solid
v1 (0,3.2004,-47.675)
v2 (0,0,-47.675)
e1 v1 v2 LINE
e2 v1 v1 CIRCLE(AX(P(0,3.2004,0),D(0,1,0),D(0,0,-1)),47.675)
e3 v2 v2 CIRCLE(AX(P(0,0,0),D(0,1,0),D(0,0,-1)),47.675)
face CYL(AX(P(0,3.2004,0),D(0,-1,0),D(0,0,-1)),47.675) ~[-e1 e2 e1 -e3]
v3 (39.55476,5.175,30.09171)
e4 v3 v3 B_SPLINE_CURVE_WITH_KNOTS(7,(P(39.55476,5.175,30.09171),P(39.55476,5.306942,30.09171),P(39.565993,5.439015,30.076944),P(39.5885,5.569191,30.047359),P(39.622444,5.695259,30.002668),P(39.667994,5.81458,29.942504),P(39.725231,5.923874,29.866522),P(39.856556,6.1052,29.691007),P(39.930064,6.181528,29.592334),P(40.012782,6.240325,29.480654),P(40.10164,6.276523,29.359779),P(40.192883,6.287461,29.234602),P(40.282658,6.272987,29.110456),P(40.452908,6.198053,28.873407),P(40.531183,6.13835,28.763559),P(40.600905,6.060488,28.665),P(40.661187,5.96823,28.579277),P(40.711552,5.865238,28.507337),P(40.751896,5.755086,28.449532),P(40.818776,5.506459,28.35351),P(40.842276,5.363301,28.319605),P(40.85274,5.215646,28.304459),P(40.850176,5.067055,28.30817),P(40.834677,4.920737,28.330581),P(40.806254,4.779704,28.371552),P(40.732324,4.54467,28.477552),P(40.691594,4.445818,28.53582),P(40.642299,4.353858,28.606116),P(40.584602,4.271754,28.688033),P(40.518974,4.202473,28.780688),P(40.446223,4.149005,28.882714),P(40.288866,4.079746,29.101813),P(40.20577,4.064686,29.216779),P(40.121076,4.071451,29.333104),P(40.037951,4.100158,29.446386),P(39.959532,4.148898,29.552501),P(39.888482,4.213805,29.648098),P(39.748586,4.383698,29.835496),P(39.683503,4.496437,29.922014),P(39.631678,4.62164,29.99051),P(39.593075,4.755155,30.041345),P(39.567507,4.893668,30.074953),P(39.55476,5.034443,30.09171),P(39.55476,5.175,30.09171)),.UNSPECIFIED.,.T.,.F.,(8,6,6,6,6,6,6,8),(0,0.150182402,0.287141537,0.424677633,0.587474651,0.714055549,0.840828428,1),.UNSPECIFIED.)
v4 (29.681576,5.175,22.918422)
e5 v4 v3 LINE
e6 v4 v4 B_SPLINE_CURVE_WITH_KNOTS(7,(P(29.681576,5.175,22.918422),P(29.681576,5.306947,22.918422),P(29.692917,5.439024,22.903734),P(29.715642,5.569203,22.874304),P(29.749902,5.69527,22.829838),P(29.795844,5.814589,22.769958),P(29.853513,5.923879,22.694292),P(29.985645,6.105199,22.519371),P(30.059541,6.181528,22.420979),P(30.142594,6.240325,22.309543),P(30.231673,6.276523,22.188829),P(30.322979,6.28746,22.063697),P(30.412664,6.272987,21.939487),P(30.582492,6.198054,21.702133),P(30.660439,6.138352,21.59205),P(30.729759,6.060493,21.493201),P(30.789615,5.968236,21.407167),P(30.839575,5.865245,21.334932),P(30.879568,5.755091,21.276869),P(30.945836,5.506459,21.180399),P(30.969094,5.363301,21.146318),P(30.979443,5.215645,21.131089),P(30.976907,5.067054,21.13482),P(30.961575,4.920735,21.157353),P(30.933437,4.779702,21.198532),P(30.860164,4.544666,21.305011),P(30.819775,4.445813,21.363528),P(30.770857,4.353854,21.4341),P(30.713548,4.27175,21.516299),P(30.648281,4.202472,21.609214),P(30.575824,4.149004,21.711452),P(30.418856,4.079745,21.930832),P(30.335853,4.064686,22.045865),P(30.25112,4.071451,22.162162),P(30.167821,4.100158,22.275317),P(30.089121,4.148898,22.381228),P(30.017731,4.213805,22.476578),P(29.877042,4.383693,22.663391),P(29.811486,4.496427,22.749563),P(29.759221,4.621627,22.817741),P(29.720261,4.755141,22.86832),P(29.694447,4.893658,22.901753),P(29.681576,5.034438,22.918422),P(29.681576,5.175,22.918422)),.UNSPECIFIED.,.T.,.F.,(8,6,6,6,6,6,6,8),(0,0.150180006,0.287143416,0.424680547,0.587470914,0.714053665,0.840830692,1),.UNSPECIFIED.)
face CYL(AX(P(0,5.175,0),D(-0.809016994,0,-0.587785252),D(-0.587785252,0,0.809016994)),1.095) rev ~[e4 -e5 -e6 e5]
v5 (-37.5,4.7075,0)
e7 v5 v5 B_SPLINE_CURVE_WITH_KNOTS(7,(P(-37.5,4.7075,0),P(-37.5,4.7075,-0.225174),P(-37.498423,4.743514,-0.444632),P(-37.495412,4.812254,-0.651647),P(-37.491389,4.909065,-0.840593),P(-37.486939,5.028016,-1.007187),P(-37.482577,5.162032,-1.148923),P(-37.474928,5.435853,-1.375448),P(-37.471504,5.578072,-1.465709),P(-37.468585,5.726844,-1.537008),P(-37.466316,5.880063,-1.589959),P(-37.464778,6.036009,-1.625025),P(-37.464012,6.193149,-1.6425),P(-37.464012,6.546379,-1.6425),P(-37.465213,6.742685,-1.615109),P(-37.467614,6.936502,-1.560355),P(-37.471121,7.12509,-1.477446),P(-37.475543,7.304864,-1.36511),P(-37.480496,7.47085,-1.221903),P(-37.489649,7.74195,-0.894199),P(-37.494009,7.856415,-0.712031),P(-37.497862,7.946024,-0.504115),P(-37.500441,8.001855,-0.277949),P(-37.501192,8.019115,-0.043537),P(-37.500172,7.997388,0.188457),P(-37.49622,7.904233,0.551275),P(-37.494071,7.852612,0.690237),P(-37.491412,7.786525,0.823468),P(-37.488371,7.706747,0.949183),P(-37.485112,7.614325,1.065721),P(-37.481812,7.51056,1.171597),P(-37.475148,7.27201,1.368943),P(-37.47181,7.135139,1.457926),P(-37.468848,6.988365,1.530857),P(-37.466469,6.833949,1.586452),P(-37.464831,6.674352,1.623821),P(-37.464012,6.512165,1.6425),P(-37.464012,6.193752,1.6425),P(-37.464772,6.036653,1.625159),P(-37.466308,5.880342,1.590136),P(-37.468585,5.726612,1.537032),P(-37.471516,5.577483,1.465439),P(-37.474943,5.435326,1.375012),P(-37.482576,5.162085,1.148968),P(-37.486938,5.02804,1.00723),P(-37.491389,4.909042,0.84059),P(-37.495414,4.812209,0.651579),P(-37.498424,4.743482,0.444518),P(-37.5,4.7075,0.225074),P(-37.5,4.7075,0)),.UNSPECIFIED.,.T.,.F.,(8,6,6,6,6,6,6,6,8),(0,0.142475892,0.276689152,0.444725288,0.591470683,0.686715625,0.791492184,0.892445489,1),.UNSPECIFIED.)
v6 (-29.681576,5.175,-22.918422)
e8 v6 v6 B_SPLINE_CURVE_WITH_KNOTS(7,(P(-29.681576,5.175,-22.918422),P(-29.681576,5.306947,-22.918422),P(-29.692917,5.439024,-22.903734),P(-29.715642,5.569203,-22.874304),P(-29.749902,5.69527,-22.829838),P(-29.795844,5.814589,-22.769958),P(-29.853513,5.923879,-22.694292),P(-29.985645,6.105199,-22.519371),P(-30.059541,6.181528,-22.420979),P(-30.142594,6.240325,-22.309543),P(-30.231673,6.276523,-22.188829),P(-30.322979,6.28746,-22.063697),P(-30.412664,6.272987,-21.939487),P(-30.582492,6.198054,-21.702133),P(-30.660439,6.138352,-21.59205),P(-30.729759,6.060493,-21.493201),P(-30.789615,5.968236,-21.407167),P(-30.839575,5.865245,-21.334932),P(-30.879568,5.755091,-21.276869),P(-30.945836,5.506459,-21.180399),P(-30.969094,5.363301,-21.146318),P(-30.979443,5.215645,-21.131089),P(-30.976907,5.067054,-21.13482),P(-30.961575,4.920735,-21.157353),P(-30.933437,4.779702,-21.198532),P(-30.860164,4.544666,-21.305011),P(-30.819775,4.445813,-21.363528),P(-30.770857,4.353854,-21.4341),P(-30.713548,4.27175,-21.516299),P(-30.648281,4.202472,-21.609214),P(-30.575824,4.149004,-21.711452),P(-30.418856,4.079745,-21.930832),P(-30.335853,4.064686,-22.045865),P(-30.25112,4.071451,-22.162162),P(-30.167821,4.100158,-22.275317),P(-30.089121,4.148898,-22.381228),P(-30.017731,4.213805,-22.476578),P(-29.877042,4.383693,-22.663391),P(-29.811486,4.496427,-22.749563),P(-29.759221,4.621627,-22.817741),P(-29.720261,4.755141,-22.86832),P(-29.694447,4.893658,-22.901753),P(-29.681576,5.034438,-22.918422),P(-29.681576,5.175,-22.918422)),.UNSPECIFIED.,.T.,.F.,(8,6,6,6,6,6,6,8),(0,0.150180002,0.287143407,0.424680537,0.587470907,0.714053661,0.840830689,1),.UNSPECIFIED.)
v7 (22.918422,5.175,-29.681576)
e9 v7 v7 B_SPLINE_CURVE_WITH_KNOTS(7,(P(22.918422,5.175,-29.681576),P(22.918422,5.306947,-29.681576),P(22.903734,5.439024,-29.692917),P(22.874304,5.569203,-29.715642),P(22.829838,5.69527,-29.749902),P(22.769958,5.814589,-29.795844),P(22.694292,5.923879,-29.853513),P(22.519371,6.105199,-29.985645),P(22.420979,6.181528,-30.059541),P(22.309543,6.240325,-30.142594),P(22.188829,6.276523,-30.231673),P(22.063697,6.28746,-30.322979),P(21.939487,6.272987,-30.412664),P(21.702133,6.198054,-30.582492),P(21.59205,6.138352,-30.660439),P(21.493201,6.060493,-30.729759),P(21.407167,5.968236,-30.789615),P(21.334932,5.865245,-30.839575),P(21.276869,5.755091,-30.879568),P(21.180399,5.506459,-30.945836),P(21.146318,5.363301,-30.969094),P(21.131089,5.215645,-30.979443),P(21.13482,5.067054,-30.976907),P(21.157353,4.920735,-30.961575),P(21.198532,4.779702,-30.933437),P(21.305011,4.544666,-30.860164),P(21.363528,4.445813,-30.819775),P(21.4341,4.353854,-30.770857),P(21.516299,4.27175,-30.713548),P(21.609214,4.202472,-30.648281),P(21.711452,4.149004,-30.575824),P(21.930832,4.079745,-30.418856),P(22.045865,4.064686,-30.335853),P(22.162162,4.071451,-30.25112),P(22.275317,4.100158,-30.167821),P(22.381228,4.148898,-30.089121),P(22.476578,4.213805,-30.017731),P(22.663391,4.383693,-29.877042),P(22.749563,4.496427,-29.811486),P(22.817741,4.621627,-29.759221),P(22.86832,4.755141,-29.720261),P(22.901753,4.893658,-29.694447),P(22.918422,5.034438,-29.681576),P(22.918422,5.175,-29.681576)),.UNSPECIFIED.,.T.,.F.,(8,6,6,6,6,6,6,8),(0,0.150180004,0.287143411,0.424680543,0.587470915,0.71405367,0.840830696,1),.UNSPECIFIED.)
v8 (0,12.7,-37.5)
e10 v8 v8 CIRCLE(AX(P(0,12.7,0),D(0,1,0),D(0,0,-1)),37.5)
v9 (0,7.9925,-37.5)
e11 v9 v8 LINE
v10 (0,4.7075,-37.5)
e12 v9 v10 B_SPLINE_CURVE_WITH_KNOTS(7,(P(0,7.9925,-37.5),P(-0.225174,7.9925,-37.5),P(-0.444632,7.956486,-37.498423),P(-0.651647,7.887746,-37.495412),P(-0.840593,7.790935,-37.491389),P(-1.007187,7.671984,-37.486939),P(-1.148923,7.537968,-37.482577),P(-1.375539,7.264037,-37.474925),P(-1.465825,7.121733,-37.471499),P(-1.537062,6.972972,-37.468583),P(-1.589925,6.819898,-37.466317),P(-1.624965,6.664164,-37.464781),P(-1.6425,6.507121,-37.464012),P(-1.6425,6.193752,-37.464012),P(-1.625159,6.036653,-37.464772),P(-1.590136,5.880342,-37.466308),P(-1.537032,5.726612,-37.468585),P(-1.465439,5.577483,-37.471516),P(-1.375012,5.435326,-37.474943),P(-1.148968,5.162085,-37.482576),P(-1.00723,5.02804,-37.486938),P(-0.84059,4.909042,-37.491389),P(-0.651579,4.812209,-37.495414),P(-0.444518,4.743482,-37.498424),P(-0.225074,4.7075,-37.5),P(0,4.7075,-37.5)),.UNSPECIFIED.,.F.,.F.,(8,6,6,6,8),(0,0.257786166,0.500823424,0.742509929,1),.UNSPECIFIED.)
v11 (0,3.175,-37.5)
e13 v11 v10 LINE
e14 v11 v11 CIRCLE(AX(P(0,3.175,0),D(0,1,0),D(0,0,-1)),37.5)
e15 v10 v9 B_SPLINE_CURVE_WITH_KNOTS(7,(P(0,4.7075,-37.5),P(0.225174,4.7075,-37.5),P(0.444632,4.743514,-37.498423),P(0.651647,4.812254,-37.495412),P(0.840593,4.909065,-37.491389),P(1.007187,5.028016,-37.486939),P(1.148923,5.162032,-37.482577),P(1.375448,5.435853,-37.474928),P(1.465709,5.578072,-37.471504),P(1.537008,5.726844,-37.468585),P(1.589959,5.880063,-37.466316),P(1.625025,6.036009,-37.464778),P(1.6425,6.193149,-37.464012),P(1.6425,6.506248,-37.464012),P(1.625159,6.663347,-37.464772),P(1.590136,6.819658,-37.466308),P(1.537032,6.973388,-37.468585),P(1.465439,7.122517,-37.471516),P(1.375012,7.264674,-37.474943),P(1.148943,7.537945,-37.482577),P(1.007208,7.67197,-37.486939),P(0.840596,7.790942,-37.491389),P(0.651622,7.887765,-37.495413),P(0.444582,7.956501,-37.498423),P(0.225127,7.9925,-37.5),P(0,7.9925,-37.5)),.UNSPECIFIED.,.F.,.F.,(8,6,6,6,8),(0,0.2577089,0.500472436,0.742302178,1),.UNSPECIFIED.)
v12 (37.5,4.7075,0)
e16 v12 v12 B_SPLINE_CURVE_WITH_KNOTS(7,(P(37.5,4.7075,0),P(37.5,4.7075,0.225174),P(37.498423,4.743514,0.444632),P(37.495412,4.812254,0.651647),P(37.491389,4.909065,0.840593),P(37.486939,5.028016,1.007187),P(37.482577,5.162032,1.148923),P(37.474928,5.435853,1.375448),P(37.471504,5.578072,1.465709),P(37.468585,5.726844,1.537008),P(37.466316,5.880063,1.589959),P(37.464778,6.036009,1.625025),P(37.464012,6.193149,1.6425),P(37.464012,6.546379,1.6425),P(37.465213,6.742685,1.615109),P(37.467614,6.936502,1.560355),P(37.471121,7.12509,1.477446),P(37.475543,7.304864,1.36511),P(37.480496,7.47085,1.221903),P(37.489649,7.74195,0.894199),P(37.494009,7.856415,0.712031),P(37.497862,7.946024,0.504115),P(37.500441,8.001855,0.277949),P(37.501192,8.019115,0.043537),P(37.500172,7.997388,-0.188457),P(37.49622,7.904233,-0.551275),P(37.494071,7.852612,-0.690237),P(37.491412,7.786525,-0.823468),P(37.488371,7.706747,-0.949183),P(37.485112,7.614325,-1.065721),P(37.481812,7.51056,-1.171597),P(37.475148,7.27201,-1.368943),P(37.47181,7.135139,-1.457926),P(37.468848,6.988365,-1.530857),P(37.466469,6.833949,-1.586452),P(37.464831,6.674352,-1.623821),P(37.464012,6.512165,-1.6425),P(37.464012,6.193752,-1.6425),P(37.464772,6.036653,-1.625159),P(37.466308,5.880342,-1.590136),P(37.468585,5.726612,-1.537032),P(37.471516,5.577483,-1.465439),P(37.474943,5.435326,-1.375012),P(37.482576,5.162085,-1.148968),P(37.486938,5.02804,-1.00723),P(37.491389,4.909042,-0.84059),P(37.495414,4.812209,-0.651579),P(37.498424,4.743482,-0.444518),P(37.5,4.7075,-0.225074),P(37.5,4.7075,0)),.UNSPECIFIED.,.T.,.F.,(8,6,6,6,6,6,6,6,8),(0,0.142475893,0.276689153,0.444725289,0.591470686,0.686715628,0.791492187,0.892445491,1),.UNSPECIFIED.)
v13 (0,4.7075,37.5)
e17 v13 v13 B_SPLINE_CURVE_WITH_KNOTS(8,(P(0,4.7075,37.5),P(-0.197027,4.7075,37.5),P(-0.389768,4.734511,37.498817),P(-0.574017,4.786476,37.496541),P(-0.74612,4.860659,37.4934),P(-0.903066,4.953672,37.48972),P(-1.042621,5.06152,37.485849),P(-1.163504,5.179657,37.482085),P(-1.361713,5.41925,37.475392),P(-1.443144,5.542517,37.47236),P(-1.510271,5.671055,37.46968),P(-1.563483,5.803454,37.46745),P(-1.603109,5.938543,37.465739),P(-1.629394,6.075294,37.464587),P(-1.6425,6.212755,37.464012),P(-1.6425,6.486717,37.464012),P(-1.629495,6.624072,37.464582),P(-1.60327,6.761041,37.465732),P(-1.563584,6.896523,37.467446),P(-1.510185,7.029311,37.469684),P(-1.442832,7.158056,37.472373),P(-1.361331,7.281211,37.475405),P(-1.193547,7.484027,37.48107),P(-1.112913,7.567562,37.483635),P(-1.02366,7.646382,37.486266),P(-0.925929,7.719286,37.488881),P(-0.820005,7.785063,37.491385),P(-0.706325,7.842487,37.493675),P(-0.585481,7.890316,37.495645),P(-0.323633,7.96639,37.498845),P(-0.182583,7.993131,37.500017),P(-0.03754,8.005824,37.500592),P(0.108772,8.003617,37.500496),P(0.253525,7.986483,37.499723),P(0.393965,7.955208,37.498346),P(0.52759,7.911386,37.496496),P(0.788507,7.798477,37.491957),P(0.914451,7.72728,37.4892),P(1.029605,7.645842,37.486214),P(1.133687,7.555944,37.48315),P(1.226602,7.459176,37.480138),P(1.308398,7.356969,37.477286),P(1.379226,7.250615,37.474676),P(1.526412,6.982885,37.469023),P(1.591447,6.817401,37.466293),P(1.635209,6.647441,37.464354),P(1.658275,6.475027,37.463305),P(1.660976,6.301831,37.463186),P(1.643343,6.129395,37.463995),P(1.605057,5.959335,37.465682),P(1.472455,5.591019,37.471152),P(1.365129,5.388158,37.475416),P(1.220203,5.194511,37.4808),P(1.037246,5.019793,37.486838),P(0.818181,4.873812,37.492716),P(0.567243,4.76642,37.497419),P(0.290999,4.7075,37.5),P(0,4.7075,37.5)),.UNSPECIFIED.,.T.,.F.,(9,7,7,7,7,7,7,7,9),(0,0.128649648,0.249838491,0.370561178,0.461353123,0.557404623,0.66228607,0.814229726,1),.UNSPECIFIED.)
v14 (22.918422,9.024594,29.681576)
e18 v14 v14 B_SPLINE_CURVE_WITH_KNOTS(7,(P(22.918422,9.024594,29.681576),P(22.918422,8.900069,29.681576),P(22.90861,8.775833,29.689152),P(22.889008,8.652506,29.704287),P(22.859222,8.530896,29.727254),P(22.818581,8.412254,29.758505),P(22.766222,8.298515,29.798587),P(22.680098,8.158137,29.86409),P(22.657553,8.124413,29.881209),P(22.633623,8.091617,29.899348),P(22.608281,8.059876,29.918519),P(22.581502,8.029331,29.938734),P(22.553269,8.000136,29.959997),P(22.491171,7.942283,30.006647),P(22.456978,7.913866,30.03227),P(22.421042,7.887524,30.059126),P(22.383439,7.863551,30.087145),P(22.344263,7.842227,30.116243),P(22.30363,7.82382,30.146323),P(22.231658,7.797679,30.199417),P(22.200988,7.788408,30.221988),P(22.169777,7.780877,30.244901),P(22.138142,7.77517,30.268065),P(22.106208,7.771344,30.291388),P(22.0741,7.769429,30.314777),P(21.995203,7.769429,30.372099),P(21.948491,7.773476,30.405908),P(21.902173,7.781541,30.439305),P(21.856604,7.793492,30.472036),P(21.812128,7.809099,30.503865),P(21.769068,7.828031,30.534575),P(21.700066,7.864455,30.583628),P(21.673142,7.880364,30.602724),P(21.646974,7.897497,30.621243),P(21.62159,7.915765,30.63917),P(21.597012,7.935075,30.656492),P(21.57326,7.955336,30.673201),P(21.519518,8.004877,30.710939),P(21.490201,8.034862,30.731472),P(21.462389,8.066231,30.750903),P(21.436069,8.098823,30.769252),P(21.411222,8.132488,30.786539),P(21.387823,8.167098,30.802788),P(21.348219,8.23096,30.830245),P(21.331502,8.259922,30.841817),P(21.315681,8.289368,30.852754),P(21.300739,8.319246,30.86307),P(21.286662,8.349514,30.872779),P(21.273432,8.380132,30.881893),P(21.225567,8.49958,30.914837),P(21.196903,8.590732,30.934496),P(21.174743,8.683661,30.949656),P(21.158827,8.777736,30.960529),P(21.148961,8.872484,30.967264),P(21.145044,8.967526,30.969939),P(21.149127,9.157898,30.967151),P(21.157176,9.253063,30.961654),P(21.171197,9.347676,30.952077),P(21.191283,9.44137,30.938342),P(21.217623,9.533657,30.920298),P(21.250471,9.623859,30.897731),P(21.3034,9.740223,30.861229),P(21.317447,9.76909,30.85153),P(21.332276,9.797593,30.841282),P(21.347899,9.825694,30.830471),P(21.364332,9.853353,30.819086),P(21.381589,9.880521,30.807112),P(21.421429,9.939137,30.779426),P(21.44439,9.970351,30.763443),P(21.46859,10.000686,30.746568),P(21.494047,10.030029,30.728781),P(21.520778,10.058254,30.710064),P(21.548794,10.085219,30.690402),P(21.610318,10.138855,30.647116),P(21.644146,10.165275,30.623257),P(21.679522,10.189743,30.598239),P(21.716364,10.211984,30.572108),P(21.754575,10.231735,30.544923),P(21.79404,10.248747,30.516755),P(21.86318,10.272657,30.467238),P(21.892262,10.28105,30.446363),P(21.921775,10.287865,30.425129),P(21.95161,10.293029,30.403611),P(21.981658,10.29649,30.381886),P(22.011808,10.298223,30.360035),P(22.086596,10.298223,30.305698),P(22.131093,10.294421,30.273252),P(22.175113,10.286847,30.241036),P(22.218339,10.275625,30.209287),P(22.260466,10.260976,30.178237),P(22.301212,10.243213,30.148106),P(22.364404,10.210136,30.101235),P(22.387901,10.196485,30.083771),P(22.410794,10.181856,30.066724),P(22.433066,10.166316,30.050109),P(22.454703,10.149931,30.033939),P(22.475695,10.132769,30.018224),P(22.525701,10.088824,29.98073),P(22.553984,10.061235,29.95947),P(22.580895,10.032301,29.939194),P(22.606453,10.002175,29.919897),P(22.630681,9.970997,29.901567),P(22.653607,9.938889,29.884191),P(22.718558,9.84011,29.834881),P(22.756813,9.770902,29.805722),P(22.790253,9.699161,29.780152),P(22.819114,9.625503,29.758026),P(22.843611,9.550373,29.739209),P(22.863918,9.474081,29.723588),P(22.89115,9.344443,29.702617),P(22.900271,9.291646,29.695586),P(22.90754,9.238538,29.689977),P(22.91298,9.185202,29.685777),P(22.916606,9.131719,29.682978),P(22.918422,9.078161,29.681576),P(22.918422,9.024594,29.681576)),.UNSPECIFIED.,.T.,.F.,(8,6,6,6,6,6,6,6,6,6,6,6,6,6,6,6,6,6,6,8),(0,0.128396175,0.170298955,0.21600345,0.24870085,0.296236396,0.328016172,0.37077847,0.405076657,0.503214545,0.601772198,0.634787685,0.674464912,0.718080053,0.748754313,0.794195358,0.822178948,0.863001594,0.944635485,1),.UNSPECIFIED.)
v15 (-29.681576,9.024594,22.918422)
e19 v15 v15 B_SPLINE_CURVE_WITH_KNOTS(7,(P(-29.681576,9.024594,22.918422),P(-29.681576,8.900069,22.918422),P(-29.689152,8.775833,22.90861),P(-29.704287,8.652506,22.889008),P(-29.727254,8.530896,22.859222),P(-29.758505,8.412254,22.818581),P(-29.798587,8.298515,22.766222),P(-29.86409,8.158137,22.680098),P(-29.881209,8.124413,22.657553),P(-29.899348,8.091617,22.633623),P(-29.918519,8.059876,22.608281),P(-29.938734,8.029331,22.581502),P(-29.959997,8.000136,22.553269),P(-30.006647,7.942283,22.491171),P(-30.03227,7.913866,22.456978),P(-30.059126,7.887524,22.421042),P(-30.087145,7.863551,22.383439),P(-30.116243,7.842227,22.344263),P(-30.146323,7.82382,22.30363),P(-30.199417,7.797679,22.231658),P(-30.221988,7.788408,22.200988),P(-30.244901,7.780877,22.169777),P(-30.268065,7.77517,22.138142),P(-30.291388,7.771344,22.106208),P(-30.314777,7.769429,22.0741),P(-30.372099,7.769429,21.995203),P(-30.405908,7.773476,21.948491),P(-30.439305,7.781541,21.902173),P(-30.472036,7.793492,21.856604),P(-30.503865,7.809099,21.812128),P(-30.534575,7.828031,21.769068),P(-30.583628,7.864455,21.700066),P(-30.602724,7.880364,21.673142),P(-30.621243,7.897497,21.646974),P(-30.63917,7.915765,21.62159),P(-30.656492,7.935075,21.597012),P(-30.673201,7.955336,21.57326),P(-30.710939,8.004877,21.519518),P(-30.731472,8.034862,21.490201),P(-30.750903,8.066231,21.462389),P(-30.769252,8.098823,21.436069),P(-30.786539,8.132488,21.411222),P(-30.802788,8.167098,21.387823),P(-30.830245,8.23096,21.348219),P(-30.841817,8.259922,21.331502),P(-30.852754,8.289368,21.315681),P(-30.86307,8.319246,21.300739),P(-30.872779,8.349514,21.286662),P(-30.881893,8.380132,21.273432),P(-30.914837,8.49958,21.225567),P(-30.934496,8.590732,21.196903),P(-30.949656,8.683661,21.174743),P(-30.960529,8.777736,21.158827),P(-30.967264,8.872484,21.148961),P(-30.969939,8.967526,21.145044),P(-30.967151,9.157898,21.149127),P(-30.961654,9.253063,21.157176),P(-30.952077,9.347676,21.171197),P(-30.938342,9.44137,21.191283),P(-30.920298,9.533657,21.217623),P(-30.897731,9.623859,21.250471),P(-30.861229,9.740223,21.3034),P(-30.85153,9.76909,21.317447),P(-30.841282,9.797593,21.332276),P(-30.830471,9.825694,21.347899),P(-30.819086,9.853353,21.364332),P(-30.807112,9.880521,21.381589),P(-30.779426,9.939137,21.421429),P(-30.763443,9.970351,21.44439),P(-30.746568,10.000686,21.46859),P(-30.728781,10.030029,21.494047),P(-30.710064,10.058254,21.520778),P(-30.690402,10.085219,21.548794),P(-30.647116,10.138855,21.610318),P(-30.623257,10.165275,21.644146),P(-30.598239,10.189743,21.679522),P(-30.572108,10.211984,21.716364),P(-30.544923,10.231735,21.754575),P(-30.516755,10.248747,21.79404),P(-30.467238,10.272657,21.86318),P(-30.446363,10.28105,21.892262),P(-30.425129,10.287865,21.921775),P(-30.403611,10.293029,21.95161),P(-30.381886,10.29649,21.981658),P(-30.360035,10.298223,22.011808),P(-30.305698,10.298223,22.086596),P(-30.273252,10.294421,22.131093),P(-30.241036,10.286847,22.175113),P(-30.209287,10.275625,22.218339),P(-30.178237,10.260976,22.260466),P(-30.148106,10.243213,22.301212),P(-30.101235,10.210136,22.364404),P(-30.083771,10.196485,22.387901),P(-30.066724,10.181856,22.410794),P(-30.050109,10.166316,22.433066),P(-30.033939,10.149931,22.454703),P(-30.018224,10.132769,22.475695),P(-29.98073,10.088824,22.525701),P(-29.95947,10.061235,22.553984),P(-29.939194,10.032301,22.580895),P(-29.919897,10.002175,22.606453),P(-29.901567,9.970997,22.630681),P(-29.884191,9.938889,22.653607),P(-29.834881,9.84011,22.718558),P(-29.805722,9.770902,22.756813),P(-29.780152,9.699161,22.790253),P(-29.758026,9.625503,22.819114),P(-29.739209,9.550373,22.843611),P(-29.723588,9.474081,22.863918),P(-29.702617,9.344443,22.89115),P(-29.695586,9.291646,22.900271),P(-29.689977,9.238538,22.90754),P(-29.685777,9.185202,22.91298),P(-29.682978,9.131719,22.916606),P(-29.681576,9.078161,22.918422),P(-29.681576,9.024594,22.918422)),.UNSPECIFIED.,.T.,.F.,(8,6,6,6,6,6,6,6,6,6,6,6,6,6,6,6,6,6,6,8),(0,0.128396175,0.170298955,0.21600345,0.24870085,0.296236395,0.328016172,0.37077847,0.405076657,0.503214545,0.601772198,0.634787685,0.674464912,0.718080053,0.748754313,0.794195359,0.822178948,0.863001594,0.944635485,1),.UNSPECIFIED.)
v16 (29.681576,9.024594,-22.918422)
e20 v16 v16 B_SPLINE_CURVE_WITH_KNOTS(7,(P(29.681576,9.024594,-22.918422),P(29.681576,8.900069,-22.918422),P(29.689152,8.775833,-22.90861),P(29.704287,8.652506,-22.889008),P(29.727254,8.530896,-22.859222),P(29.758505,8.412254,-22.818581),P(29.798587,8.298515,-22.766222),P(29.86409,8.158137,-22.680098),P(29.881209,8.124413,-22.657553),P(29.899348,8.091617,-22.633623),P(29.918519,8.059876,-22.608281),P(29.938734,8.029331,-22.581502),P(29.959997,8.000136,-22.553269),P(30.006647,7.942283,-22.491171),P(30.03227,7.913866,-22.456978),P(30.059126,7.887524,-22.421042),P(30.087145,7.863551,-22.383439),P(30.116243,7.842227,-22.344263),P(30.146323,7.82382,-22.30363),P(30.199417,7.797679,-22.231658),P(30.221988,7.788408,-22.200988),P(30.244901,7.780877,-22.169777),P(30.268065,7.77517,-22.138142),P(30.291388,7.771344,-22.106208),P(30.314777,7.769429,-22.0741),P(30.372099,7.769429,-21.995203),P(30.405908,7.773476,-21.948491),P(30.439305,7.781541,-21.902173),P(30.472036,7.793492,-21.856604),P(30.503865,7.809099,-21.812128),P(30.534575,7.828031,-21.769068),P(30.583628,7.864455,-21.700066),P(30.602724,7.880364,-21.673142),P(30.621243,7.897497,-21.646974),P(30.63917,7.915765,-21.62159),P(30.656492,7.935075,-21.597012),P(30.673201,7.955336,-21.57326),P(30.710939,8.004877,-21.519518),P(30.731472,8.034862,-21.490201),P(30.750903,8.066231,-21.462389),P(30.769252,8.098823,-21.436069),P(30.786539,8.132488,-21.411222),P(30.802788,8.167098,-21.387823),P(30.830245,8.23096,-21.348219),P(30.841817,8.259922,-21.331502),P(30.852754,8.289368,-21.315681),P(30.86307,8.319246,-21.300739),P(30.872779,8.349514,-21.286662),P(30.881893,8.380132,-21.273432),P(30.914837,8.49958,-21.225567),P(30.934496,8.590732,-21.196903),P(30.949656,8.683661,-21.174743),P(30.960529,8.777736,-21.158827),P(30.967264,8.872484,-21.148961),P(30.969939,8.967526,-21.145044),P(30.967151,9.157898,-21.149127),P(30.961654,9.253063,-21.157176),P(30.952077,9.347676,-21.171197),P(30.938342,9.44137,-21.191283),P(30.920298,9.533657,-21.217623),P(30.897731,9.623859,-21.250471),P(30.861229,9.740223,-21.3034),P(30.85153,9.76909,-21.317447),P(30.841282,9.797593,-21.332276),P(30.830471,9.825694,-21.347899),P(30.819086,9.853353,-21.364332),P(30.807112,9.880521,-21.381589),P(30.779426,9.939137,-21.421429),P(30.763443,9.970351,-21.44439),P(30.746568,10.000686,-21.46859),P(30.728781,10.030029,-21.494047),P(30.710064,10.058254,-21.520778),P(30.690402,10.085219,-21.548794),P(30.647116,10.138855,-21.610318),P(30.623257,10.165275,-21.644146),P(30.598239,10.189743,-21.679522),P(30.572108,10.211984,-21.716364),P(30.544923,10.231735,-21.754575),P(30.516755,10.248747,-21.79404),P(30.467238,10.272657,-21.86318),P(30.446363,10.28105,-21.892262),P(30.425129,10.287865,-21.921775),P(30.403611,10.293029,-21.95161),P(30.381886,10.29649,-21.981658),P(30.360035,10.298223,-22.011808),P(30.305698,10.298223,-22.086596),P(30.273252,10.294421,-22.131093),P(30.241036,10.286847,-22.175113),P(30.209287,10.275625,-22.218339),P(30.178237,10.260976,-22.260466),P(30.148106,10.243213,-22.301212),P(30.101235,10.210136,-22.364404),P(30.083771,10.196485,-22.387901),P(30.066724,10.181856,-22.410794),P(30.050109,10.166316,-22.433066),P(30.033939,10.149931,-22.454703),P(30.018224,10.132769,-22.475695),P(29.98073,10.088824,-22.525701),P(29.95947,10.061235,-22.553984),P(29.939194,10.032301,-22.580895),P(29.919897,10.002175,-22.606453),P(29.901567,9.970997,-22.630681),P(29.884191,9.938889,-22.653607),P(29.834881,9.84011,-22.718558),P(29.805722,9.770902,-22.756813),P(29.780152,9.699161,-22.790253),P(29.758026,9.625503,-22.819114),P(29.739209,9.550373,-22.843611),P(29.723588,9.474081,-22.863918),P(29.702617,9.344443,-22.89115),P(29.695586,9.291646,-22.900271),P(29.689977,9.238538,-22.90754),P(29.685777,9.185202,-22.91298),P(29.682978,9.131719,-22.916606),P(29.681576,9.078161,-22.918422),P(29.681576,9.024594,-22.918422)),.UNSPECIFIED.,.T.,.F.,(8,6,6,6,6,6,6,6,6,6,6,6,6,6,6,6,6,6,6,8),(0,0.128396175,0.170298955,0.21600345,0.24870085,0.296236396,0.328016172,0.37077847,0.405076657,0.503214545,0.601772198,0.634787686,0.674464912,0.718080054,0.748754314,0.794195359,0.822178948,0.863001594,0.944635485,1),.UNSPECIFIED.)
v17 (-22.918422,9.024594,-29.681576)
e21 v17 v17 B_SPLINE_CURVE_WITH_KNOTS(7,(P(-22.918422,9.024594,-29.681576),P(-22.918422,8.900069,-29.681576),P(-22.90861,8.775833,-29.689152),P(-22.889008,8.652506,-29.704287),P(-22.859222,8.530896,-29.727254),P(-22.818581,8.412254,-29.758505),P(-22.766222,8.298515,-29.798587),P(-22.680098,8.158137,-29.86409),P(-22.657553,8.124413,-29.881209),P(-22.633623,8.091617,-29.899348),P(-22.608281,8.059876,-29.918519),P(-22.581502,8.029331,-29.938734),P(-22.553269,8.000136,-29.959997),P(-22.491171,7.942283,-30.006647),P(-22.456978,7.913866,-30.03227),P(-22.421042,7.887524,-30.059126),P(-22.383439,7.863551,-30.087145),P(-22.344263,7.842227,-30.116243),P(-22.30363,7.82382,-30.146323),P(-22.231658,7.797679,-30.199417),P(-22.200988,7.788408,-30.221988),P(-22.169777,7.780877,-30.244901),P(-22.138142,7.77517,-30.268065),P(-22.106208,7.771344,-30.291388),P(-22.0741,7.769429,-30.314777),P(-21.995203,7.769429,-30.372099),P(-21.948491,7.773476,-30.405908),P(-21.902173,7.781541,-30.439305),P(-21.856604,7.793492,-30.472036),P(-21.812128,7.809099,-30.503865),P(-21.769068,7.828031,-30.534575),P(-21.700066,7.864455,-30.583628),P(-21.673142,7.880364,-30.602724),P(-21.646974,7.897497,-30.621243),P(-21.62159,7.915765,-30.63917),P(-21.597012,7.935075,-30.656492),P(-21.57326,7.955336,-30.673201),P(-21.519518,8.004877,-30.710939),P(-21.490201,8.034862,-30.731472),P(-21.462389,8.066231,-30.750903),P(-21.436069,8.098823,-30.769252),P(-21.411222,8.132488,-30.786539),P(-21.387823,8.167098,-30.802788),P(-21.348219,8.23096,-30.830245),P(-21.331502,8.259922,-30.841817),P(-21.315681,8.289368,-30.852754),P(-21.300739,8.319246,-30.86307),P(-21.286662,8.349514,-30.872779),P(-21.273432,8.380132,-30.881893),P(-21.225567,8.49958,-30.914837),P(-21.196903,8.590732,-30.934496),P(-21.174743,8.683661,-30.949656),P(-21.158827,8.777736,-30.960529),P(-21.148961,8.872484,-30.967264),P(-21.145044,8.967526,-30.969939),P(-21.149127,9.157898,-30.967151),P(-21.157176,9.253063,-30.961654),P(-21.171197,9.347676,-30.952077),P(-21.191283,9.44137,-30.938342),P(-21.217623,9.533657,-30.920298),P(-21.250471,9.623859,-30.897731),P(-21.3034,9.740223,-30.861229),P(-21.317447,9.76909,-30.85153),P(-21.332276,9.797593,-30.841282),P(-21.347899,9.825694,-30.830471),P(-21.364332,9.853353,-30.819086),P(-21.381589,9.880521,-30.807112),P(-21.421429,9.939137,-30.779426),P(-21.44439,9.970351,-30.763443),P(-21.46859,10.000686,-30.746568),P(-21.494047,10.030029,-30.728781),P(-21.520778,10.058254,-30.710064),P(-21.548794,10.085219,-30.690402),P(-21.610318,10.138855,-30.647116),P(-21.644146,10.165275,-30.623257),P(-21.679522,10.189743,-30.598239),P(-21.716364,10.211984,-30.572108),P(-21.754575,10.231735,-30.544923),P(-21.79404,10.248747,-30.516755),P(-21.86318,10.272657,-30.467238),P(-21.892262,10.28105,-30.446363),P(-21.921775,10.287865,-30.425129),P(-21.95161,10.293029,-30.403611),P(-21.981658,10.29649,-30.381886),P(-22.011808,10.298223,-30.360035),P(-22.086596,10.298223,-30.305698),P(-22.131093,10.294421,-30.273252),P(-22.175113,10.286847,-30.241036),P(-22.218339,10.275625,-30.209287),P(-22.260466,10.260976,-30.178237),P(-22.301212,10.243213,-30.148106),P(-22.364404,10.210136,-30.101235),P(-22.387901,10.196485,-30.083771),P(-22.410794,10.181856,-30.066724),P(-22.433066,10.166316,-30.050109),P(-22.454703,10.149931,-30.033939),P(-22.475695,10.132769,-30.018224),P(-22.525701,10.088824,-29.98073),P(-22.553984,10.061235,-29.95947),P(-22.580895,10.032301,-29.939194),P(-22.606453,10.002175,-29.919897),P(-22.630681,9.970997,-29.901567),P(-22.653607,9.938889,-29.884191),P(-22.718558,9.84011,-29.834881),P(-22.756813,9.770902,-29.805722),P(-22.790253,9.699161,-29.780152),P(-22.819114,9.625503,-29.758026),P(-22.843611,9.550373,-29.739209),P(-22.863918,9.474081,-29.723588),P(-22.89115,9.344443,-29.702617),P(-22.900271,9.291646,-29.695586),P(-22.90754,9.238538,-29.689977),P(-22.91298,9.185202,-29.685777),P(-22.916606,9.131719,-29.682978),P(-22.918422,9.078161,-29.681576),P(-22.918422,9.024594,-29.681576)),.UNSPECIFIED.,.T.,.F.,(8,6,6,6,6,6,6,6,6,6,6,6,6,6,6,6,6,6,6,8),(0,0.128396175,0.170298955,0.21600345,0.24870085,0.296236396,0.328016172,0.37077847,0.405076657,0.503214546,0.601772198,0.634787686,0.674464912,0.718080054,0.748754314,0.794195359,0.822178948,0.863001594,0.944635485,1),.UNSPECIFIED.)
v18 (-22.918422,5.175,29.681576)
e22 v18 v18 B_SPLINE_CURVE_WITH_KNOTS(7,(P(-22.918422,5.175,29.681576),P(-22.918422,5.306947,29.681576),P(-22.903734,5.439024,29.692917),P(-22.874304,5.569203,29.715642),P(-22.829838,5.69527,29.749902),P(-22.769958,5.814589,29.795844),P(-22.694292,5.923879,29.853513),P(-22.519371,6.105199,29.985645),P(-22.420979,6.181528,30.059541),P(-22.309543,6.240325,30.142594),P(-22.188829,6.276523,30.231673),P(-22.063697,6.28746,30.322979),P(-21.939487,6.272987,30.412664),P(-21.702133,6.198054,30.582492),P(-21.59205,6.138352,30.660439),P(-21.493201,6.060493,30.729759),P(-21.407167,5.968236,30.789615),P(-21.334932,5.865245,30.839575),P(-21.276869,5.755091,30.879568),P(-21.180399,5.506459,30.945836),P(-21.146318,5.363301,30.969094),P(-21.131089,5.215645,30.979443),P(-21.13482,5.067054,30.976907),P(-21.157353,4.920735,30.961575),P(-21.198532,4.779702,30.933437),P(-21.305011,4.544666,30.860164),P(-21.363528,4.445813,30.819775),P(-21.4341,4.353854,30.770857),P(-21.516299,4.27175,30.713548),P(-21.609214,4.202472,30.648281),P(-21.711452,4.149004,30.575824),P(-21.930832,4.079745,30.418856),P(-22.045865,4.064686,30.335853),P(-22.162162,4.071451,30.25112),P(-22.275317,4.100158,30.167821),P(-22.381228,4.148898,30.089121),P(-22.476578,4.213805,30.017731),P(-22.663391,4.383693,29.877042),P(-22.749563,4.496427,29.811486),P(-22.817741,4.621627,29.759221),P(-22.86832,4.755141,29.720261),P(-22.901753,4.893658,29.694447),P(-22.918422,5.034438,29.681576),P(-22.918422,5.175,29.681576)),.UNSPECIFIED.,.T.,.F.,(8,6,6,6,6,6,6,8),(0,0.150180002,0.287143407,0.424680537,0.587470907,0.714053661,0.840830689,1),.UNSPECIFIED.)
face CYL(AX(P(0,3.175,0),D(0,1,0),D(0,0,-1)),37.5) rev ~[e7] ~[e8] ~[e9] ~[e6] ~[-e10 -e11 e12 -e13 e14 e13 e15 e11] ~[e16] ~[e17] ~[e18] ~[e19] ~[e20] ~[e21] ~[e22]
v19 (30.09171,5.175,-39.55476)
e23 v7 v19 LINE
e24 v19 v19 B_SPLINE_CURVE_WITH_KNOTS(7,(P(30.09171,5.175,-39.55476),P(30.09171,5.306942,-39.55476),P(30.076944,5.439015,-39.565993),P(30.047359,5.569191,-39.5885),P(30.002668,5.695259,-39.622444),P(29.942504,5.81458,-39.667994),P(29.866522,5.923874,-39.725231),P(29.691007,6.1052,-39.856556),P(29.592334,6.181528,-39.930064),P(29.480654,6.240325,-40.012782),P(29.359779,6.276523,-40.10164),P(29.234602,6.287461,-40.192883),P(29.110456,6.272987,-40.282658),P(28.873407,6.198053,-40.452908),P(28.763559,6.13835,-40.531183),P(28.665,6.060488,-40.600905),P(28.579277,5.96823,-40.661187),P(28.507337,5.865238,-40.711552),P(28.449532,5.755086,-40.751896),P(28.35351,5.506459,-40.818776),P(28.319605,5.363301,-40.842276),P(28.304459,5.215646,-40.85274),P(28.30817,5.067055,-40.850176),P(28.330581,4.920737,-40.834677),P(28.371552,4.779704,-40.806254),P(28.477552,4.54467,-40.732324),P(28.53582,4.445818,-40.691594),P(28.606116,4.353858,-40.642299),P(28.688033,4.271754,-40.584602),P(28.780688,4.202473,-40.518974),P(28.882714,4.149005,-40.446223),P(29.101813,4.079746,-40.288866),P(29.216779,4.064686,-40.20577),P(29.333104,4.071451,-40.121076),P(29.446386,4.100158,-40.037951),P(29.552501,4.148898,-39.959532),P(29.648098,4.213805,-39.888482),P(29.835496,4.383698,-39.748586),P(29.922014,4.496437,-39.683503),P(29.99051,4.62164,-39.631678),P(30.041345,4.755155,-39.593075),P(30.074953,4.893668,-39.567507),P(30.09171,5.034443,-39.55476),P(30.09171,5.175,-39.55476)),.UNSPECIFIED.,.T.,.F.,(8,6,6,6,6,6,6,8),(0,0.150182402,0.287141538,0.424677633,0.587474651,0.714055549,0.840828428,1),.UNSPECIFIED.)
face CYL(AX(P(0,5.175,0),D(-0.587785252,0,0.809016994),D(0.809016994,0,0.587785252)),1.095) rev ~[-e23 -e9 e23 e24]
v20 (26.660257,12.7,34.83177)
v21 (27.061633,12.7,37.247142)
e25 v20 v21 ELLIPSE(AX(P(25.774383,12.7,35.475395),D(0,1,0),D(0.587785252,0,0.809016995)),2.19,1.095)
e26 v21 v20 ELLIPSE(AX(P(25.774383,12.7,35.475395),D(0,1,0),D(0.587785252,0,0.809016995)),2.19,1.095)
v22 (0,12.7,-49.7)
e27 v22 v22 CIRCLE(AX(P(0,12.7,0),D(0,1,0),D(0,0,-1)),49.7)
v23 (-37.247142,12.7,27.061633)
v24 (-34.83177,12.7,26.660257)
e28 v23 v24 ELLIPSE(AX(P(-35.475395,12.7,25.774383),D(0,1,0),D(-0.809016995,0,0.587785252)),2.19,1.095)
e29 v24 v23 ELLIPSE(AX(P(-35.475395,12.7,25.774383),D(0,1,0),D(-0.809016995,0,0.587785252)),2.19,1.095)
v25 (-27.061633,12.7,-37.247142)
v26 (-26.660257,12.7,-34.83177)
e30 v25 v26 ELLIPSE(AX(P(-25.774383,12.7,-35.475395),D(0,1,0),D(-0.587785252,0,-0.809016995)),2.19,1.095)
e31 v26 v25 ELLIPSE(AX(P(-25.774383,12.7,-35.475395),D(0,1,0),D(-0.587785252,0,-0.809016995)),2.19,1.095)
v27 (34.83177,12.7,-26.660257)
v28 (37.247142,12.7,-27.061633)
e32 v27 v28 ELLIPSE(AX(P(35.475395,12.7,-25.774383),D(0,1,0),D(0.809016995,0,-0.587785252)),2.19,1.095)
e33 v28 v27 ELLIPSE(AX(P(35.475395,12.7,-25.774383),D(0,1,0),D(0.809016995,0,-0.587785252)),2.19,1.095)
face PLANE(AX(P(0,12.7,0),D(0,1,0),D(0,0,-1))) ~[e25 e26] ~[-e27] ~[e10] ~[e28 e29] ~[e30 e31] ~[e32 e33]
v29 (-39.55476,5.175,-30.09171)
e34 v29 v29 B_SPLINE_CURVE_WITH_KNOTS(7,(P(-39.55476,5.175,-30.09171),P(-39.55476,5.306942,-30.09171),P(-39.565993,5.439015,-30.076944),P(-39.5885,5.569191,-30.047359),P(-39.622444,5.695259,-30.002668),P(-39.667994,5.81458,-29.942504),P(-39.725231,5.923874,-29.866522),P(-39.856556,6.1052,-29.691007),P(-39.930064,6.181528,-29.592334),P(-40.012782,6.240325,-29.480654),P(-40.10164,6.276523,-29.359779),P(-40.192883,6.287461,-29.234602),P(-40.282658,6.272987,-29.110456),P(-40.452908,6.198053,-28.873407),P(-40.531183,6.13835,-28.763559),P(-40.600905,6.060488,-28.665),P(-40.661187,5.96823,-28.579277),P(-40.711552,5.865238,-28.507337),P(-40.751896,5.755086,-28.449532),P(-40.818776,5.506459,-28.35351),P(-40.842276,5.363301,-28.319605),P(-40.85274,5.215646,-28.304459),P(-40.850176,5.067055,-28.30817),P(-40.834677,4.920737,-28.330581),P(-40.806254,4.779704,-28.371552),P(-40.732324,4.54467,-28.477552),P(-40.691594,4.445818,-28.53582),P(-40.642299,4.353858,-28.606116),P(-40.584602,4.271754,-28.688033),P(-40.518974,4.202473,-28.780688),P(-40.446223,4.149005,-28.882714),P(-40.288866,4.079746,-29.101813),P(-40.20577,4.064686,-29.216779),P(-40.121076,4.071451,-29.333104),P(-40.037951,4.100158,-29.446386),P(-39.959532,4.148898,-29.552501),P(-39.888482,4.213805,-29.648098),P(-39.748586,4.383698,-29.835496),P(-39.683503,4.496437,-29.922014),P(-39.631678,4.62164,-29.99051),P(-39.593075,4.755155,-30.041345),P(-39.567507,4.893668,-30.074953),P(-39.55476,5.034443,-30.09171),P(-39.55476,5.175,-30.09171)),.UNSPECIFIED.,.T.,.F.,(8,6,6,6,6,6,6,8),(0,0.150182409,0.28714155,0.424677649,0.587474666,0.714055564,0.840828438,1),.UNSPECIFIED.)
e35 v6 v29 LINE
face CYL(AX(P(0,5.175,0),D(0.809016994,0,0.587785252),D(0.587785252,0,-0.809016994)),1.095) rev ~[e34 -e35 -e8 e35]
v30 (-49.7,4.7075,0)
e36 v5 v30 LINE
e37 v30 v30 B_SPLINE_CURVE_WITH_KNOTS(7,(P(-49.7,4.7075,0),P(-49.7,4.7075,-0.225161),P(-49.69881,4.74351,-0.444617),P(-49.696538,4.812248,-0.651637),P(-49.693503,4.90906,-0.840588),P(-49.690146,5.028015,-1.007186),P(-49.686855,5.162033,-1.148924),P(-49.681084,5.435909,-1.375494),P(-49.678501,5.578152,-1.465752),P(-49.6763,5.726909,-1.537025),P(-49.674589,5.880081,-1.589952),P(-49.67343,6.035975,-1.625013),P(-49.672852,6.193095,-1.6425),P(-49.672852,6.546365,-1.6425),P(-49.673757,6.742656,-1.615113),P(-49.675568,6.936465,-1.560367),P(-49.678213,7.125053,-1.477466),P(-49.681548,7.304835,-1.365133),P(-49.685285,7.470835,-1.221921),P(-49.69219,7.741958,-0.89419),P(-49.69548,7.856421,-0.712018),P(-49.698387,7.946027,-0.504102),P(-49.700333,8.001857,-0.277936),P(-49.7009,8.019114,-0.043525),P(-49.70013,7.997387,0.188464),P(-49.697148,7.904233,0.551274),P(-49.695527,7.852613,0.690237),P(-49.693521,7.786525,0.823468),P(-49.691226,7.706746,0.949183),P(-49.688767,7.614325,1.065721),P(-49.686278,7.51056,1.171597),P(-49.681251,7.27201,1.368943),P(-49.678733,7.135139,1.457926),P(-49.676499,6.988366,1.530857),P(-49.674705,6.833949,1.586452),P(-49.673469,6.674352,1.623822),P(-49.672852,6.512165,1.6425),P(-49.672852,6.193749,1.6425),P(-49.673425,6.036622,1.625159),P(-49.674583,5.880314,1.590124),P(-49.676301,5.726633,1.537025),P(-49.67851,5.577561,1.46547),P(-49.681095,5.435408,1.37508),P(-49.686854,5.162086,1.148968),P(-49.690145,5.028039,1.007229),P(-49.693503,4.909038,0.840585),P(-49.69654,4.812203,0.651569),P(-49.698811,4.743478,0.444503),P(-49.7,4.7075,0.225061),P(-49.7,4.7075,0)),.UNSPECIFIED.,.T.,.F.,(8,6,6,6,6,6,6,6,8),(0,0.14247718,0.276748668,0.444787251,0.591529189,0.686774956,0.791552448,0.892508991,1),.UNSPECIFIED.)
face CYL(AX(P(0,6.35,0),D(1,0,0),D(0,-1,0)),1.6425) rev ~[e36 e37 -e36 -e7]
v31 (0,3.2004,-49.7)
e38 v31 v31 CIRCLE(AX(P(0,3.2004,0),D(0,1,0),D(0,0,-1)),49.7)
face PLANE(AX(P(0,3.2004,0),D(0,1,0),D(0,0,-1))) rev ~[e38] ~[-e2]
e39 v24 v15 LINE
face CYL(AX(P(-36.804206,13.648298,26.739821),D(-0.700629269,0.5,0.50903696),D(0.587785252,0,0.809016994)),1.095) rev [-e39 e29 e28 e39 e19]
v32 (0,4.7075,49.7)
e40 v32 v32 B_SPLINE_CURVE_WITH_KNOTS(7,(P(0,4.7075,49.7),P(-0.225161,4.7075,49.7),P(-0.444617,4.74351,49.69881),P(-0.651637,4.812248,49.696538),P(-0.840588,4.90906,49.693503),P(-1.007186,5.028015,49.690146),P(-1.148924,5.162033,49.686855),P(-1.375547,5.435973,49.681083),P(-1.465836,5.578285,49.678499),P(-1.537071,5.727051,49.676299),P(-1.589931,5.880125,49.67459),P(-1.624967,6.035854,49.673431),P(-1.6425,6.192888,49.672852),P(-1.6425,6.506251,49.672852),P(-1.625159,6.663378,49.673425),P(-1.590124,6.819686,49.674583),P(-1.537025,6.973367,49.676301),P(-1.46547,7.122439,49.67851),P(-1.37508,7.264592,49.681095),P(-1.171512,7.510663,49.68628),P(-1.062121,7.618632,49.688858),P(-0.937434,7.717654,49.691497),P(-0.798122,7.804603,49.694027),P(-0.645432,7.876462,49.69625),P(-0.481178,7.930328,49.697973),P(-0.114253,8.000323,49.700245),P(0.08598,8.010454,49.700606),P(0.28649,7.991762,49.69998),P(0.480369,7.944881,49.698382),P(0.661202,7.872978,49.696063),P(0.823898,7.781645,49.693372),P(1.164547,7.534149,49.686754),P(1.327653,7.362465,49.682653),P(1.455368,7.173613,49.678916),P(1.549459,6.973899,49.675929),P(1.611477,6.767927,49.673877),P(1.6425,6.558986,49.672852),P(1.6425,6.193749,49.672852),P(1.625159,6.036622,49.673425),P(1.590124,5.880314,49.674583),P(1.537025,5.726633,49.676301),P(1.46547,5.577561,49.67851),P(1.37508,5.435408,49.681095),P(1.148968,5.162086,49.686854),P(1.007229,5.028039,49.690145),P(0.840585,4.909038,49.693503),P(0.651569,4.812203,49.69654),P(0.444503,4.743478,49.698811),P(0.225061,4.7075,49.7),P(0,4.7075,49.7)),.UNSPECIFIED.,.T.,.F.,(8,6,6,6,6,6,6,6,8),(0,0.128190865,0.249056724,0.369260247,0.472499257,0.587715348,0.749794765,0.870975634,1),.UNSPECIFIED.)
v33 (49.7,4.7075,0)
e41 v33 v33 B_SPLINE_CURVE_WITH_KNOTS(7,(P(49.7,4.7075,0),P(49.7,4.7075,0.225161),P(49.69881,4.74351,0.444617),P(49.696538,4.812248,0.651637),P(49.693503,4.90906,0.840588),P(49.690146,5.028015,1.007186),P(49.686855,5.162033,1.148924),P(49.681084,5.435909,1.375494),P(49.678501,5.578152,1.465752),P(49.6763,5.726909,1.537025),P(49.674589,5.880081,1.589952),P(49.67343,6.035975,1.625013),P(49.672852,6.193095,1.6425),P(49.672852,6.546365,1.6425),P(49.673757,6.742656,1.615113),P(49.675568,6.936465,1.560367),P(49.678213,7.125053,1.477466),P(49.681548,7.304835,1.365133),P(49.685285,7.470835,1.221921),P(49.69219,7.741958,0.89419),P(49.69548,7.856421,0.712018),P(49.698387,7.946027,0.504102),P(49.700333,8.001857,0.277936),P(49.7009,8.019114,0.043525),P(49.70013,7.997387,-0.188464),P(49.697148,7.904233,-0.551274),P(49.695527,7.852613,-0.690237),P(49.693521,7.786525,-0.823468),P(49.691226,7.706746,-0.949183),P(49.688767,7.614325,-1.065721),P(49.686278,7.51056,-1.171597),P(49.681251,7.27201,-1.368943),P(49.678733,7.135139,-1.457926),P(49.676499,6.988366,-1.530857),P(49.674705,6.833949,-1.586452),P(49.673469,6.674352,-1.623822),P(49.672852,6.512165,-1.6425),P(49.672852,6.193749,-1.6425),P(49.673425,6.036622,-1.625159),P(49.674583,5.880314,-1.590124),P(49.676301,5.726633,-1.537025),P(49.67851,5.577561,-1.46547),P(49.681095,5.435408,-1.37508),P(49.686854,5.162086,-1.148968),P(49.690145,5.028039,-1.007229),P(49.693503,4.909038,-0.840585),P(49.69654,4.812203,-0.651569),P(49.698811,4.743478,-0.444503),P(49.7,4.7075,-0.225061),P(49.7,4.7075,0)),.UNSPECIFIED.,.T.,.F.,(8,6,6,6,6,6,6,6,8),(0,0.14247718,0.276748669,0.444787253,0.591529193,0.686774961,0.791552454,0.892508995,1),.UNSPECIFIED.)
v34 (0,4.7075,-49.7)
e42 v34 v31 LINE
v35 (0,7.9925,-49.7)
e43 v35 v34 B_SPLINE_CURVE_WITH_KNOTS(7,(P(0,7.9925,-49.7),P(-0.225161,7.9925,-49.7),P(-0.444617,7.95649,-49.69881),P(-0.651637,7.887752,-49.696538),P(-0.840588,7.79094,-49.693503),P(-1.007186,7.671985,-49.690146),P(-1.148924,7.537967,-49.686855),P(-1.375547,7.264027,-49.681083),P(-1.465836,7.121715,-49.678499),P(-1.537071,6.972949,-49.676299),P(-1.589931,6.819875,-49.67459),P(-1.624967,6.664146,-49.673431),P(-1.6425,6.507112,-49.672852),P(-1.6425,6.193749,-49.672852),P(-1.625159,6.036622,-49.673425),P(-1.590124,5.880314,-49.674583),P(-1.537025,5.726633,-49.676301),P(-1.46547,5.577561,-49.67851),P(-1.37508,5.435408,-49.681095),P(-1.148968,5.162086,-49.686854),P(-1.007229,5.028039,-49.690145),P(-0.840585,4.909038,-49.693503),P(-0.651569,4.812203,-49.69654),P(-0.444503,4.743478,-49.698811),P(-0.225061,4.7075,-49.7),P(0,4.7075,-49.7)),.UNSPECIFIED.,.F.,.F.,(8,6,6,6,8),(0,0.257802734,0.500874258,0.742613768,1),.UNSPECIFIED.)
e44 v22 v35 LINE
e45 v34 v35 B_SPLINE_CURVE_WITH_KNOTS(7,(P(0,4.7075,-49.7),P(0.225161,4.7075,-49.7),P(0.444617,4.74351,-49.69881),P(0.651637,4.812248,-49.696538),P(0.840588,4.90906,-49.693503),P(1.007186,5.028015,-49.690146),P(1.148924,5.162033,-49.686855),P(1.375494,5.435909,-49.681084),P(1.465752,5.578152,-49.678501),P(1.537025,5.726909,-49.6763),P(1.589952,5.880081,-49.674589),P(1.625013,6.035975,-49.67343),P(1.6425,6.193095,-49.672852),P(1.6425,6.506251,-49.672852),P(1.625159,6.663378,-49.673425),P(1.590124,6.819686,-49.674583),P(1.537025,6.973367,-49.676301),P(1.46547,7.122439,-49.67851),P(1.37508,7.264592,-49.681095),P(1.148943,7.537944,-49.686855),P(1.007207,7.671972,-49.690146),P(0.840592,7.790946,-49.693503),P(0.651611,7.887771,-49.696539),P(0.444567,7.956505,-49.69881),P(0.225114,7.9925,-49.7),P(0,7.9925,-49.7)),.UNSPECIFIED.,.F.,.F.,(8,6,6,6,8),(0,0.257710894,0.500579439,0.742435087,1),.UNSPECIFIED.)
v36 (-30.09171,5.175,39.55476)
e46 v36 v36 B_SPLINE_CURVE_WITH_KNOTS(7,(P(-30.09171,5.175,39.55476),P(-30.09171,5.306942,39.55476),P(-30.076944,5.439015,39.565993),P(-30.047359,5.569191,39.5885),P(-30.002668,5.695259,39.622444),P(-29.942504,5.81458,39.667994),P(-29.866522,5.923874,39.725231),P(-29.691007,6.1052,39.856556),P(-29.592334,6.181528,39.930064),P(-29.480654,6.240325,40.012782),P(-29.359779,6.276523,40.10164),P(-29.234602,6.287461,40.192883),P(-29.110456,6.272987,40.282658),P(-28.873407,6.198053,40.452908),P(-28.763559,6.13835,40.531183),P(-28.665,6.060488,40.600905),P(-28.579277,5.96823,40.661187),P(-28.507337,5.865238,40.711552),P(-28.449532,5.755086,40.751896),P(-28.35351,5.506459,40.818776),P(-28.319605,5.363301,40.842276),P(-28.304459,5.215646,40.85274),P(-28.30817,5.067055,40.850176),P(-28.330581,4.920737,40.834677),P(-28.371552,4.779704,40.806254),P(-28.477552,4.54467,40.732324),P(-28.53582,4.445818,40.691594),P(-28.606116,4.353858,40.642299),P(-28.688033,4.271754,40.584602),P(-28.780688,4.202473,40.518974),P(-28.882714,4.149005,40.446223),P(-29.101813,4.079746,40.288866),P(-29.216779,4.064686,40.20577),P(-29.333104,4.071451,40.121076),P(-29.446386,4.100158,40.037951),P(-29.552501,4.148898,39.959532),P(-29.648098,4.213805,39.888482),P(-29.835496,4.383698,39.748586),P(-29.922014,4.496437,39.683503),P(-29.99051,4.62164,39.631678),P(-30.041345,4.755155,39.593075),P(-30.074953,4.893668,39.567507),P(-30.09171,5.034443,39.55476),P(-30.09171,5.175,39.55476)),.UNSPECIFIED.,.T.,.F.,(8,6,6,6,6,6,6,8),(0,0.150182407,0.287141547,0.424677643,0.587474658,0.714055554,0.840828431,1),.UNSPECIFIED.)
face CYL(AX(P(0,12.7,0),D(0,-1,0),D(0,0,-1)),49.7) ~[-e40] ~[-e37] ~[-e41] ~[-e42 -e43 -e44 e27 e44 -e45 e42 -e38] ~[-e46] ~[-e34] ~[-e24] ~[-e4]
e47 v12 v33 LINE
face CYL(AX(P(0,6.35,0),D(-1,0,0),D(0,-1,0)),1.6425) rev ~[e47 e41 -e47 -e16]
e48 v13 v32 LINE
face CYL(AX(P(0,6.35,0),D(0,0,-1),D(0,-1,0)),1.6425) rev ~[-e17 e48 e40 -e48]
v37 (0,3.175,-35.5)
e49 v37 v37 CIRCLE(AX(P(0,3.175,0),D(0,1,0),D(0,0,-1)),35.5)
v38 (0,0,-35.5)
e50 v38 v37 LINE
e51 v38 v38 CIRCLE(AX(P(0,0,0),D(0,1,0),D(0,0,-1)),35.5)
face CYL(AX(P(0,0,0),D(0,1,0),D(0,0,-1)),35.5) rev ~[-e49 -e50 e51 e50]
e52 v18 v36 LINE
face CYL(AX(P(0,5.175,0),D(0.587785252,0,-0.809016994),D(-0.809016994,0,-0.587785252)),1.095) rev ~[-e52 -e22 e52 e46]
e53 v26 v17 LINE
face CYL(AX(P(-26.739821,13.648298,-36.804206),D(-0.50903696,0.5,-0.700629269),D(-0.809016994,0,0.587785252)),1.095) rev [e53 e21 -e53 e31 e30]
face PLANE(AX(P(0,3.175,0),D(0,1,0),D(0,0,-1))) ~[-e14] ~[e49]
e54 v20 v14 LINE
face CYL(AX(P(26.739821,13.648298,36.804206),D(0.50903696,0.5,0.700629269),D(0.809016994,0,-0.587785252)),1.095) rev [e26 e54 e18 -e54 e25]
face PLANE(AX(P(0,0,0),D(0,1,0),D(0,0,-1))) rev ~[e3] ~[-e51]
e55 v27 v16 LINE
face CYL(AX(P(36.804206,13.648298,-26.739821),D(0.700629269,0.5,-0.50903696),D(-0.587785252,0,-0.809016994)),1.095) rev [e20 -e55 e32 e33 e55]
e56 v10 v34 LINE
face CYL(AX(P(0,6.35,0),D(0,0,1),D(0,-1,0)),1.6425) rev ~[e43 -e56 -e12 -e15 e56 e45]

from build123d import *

# Parameters (mm, degrees)
SKETCH5_R          = 1.6425
CUT_EXTRUDE1_DEPTH = 50.7
SKETCH6_R          = 1.095
CUT_EXTRUDE2_DEPTH = 70.421071799
CUT_EXTRUDE3_START = -7.395857
SKETCH7_R          = 1.095
CUT_EXTRUDE3_DEPTH = 9.861143
CIRPATTERN1_COUNT  = 4


with BuildPart() as part:
    # Sketch2 → Revolve1 (revolve)
    with BuildSketch(Plane.XY, mode=Mode.PRIVATE) as revolve1_sk:
        Polygon((49.7, 12.7), (49.7, 3.2004), (47.675, 3.2004), (47.675, 0), (35.5, 0), (35.5, 3.175), (37.5, 3.175), (37.5, 12.7), align=None)
    revolve(revolve1_sk.sketch.rotate(Axis((0, 0, 0), (0, 1, 0)), 90), axis=Axis((0, 0, 0), (0, 1, 0)))  # turned: the seam where the file's is

    # Sketch5 → Cut-Extrude1 (cut, through all)
    with BuildSketch(Plane.XY):
        with Locations(Location((0, 6.35, 0), (0, 0, 270))):  # turned: the seam where the file's is
            Circle(SKETCH5_R)
    cut_extrude1 = extrude(amount=-CUT_EXTRUDE1_DEPTH, mode=Mode.SUBTRACT)

    # Sketch6 → Cut-Extrude2 (cut, through all)
    with BuildSketch(Plane(origin=(0, 0, 0), x_dir=(0.809016994, 0, 0.587785252), z_dir=(-0.587785252, 0, 0.809016994))):
        with Locations((0, 5.175)):
            Circle(SKETCH6_R)
    cut_extrude2 = extrude(amount=-CUT_EXTRUDE2_DEPTH, mode=Mode.SUBTRACT)

    # Sketch7 → Cut-Extrude3 (cut)
    with BuildSketch(Plane(origin=(-19.76384492, 19.412976321, -27.202598826), x_dir=(0.809016994, 0, -0.587785252), z_dir=(0.50903696, -0.5, 0.700629269)).offset(CUT_EXTRUDE3_START)):
        with Locations(Location((0, -10.926477372, 0), (0, 0, 180))):  # turned: the seam where the file's is
            Circle(SKETCH7_R)
    cut_extrude3 = extrude(amount=CUT_EXTRUDE3_DEPTH, mode=Mode.SUBTRACT)

    # CirPattern1: Cut-Extrude1, Cut-Extrude2, Cut-Extrude3 ×4 about axis
    cirpattern1_axis = Axis((0, 13.335, 0), (0, -1, 0))
    add([cut_extrude1.rotate(cirpattern1_axis, i * 360 / CIRPATTERN1_COUNT) for i in range(1, CIRPATTERN1_COUNT)], mode=Mode.SUBTRACT)
    add([cut_extrude2.rotate(cirpattern1_axis, i * 360 / CIRPATTERN1_COUNT) for i in range(1, CIRPATTERN1_COUNT)], mode=Mode.SUBTRACT)
    add([cut_extrude3.rotate(cirpattern1_axis, i * 360 / CIRPATTERN1_COUNT) for i in range(1, CIRPATTERN1_COUNT)], mode=Mode.SUBTRACT)


solid = part.part
